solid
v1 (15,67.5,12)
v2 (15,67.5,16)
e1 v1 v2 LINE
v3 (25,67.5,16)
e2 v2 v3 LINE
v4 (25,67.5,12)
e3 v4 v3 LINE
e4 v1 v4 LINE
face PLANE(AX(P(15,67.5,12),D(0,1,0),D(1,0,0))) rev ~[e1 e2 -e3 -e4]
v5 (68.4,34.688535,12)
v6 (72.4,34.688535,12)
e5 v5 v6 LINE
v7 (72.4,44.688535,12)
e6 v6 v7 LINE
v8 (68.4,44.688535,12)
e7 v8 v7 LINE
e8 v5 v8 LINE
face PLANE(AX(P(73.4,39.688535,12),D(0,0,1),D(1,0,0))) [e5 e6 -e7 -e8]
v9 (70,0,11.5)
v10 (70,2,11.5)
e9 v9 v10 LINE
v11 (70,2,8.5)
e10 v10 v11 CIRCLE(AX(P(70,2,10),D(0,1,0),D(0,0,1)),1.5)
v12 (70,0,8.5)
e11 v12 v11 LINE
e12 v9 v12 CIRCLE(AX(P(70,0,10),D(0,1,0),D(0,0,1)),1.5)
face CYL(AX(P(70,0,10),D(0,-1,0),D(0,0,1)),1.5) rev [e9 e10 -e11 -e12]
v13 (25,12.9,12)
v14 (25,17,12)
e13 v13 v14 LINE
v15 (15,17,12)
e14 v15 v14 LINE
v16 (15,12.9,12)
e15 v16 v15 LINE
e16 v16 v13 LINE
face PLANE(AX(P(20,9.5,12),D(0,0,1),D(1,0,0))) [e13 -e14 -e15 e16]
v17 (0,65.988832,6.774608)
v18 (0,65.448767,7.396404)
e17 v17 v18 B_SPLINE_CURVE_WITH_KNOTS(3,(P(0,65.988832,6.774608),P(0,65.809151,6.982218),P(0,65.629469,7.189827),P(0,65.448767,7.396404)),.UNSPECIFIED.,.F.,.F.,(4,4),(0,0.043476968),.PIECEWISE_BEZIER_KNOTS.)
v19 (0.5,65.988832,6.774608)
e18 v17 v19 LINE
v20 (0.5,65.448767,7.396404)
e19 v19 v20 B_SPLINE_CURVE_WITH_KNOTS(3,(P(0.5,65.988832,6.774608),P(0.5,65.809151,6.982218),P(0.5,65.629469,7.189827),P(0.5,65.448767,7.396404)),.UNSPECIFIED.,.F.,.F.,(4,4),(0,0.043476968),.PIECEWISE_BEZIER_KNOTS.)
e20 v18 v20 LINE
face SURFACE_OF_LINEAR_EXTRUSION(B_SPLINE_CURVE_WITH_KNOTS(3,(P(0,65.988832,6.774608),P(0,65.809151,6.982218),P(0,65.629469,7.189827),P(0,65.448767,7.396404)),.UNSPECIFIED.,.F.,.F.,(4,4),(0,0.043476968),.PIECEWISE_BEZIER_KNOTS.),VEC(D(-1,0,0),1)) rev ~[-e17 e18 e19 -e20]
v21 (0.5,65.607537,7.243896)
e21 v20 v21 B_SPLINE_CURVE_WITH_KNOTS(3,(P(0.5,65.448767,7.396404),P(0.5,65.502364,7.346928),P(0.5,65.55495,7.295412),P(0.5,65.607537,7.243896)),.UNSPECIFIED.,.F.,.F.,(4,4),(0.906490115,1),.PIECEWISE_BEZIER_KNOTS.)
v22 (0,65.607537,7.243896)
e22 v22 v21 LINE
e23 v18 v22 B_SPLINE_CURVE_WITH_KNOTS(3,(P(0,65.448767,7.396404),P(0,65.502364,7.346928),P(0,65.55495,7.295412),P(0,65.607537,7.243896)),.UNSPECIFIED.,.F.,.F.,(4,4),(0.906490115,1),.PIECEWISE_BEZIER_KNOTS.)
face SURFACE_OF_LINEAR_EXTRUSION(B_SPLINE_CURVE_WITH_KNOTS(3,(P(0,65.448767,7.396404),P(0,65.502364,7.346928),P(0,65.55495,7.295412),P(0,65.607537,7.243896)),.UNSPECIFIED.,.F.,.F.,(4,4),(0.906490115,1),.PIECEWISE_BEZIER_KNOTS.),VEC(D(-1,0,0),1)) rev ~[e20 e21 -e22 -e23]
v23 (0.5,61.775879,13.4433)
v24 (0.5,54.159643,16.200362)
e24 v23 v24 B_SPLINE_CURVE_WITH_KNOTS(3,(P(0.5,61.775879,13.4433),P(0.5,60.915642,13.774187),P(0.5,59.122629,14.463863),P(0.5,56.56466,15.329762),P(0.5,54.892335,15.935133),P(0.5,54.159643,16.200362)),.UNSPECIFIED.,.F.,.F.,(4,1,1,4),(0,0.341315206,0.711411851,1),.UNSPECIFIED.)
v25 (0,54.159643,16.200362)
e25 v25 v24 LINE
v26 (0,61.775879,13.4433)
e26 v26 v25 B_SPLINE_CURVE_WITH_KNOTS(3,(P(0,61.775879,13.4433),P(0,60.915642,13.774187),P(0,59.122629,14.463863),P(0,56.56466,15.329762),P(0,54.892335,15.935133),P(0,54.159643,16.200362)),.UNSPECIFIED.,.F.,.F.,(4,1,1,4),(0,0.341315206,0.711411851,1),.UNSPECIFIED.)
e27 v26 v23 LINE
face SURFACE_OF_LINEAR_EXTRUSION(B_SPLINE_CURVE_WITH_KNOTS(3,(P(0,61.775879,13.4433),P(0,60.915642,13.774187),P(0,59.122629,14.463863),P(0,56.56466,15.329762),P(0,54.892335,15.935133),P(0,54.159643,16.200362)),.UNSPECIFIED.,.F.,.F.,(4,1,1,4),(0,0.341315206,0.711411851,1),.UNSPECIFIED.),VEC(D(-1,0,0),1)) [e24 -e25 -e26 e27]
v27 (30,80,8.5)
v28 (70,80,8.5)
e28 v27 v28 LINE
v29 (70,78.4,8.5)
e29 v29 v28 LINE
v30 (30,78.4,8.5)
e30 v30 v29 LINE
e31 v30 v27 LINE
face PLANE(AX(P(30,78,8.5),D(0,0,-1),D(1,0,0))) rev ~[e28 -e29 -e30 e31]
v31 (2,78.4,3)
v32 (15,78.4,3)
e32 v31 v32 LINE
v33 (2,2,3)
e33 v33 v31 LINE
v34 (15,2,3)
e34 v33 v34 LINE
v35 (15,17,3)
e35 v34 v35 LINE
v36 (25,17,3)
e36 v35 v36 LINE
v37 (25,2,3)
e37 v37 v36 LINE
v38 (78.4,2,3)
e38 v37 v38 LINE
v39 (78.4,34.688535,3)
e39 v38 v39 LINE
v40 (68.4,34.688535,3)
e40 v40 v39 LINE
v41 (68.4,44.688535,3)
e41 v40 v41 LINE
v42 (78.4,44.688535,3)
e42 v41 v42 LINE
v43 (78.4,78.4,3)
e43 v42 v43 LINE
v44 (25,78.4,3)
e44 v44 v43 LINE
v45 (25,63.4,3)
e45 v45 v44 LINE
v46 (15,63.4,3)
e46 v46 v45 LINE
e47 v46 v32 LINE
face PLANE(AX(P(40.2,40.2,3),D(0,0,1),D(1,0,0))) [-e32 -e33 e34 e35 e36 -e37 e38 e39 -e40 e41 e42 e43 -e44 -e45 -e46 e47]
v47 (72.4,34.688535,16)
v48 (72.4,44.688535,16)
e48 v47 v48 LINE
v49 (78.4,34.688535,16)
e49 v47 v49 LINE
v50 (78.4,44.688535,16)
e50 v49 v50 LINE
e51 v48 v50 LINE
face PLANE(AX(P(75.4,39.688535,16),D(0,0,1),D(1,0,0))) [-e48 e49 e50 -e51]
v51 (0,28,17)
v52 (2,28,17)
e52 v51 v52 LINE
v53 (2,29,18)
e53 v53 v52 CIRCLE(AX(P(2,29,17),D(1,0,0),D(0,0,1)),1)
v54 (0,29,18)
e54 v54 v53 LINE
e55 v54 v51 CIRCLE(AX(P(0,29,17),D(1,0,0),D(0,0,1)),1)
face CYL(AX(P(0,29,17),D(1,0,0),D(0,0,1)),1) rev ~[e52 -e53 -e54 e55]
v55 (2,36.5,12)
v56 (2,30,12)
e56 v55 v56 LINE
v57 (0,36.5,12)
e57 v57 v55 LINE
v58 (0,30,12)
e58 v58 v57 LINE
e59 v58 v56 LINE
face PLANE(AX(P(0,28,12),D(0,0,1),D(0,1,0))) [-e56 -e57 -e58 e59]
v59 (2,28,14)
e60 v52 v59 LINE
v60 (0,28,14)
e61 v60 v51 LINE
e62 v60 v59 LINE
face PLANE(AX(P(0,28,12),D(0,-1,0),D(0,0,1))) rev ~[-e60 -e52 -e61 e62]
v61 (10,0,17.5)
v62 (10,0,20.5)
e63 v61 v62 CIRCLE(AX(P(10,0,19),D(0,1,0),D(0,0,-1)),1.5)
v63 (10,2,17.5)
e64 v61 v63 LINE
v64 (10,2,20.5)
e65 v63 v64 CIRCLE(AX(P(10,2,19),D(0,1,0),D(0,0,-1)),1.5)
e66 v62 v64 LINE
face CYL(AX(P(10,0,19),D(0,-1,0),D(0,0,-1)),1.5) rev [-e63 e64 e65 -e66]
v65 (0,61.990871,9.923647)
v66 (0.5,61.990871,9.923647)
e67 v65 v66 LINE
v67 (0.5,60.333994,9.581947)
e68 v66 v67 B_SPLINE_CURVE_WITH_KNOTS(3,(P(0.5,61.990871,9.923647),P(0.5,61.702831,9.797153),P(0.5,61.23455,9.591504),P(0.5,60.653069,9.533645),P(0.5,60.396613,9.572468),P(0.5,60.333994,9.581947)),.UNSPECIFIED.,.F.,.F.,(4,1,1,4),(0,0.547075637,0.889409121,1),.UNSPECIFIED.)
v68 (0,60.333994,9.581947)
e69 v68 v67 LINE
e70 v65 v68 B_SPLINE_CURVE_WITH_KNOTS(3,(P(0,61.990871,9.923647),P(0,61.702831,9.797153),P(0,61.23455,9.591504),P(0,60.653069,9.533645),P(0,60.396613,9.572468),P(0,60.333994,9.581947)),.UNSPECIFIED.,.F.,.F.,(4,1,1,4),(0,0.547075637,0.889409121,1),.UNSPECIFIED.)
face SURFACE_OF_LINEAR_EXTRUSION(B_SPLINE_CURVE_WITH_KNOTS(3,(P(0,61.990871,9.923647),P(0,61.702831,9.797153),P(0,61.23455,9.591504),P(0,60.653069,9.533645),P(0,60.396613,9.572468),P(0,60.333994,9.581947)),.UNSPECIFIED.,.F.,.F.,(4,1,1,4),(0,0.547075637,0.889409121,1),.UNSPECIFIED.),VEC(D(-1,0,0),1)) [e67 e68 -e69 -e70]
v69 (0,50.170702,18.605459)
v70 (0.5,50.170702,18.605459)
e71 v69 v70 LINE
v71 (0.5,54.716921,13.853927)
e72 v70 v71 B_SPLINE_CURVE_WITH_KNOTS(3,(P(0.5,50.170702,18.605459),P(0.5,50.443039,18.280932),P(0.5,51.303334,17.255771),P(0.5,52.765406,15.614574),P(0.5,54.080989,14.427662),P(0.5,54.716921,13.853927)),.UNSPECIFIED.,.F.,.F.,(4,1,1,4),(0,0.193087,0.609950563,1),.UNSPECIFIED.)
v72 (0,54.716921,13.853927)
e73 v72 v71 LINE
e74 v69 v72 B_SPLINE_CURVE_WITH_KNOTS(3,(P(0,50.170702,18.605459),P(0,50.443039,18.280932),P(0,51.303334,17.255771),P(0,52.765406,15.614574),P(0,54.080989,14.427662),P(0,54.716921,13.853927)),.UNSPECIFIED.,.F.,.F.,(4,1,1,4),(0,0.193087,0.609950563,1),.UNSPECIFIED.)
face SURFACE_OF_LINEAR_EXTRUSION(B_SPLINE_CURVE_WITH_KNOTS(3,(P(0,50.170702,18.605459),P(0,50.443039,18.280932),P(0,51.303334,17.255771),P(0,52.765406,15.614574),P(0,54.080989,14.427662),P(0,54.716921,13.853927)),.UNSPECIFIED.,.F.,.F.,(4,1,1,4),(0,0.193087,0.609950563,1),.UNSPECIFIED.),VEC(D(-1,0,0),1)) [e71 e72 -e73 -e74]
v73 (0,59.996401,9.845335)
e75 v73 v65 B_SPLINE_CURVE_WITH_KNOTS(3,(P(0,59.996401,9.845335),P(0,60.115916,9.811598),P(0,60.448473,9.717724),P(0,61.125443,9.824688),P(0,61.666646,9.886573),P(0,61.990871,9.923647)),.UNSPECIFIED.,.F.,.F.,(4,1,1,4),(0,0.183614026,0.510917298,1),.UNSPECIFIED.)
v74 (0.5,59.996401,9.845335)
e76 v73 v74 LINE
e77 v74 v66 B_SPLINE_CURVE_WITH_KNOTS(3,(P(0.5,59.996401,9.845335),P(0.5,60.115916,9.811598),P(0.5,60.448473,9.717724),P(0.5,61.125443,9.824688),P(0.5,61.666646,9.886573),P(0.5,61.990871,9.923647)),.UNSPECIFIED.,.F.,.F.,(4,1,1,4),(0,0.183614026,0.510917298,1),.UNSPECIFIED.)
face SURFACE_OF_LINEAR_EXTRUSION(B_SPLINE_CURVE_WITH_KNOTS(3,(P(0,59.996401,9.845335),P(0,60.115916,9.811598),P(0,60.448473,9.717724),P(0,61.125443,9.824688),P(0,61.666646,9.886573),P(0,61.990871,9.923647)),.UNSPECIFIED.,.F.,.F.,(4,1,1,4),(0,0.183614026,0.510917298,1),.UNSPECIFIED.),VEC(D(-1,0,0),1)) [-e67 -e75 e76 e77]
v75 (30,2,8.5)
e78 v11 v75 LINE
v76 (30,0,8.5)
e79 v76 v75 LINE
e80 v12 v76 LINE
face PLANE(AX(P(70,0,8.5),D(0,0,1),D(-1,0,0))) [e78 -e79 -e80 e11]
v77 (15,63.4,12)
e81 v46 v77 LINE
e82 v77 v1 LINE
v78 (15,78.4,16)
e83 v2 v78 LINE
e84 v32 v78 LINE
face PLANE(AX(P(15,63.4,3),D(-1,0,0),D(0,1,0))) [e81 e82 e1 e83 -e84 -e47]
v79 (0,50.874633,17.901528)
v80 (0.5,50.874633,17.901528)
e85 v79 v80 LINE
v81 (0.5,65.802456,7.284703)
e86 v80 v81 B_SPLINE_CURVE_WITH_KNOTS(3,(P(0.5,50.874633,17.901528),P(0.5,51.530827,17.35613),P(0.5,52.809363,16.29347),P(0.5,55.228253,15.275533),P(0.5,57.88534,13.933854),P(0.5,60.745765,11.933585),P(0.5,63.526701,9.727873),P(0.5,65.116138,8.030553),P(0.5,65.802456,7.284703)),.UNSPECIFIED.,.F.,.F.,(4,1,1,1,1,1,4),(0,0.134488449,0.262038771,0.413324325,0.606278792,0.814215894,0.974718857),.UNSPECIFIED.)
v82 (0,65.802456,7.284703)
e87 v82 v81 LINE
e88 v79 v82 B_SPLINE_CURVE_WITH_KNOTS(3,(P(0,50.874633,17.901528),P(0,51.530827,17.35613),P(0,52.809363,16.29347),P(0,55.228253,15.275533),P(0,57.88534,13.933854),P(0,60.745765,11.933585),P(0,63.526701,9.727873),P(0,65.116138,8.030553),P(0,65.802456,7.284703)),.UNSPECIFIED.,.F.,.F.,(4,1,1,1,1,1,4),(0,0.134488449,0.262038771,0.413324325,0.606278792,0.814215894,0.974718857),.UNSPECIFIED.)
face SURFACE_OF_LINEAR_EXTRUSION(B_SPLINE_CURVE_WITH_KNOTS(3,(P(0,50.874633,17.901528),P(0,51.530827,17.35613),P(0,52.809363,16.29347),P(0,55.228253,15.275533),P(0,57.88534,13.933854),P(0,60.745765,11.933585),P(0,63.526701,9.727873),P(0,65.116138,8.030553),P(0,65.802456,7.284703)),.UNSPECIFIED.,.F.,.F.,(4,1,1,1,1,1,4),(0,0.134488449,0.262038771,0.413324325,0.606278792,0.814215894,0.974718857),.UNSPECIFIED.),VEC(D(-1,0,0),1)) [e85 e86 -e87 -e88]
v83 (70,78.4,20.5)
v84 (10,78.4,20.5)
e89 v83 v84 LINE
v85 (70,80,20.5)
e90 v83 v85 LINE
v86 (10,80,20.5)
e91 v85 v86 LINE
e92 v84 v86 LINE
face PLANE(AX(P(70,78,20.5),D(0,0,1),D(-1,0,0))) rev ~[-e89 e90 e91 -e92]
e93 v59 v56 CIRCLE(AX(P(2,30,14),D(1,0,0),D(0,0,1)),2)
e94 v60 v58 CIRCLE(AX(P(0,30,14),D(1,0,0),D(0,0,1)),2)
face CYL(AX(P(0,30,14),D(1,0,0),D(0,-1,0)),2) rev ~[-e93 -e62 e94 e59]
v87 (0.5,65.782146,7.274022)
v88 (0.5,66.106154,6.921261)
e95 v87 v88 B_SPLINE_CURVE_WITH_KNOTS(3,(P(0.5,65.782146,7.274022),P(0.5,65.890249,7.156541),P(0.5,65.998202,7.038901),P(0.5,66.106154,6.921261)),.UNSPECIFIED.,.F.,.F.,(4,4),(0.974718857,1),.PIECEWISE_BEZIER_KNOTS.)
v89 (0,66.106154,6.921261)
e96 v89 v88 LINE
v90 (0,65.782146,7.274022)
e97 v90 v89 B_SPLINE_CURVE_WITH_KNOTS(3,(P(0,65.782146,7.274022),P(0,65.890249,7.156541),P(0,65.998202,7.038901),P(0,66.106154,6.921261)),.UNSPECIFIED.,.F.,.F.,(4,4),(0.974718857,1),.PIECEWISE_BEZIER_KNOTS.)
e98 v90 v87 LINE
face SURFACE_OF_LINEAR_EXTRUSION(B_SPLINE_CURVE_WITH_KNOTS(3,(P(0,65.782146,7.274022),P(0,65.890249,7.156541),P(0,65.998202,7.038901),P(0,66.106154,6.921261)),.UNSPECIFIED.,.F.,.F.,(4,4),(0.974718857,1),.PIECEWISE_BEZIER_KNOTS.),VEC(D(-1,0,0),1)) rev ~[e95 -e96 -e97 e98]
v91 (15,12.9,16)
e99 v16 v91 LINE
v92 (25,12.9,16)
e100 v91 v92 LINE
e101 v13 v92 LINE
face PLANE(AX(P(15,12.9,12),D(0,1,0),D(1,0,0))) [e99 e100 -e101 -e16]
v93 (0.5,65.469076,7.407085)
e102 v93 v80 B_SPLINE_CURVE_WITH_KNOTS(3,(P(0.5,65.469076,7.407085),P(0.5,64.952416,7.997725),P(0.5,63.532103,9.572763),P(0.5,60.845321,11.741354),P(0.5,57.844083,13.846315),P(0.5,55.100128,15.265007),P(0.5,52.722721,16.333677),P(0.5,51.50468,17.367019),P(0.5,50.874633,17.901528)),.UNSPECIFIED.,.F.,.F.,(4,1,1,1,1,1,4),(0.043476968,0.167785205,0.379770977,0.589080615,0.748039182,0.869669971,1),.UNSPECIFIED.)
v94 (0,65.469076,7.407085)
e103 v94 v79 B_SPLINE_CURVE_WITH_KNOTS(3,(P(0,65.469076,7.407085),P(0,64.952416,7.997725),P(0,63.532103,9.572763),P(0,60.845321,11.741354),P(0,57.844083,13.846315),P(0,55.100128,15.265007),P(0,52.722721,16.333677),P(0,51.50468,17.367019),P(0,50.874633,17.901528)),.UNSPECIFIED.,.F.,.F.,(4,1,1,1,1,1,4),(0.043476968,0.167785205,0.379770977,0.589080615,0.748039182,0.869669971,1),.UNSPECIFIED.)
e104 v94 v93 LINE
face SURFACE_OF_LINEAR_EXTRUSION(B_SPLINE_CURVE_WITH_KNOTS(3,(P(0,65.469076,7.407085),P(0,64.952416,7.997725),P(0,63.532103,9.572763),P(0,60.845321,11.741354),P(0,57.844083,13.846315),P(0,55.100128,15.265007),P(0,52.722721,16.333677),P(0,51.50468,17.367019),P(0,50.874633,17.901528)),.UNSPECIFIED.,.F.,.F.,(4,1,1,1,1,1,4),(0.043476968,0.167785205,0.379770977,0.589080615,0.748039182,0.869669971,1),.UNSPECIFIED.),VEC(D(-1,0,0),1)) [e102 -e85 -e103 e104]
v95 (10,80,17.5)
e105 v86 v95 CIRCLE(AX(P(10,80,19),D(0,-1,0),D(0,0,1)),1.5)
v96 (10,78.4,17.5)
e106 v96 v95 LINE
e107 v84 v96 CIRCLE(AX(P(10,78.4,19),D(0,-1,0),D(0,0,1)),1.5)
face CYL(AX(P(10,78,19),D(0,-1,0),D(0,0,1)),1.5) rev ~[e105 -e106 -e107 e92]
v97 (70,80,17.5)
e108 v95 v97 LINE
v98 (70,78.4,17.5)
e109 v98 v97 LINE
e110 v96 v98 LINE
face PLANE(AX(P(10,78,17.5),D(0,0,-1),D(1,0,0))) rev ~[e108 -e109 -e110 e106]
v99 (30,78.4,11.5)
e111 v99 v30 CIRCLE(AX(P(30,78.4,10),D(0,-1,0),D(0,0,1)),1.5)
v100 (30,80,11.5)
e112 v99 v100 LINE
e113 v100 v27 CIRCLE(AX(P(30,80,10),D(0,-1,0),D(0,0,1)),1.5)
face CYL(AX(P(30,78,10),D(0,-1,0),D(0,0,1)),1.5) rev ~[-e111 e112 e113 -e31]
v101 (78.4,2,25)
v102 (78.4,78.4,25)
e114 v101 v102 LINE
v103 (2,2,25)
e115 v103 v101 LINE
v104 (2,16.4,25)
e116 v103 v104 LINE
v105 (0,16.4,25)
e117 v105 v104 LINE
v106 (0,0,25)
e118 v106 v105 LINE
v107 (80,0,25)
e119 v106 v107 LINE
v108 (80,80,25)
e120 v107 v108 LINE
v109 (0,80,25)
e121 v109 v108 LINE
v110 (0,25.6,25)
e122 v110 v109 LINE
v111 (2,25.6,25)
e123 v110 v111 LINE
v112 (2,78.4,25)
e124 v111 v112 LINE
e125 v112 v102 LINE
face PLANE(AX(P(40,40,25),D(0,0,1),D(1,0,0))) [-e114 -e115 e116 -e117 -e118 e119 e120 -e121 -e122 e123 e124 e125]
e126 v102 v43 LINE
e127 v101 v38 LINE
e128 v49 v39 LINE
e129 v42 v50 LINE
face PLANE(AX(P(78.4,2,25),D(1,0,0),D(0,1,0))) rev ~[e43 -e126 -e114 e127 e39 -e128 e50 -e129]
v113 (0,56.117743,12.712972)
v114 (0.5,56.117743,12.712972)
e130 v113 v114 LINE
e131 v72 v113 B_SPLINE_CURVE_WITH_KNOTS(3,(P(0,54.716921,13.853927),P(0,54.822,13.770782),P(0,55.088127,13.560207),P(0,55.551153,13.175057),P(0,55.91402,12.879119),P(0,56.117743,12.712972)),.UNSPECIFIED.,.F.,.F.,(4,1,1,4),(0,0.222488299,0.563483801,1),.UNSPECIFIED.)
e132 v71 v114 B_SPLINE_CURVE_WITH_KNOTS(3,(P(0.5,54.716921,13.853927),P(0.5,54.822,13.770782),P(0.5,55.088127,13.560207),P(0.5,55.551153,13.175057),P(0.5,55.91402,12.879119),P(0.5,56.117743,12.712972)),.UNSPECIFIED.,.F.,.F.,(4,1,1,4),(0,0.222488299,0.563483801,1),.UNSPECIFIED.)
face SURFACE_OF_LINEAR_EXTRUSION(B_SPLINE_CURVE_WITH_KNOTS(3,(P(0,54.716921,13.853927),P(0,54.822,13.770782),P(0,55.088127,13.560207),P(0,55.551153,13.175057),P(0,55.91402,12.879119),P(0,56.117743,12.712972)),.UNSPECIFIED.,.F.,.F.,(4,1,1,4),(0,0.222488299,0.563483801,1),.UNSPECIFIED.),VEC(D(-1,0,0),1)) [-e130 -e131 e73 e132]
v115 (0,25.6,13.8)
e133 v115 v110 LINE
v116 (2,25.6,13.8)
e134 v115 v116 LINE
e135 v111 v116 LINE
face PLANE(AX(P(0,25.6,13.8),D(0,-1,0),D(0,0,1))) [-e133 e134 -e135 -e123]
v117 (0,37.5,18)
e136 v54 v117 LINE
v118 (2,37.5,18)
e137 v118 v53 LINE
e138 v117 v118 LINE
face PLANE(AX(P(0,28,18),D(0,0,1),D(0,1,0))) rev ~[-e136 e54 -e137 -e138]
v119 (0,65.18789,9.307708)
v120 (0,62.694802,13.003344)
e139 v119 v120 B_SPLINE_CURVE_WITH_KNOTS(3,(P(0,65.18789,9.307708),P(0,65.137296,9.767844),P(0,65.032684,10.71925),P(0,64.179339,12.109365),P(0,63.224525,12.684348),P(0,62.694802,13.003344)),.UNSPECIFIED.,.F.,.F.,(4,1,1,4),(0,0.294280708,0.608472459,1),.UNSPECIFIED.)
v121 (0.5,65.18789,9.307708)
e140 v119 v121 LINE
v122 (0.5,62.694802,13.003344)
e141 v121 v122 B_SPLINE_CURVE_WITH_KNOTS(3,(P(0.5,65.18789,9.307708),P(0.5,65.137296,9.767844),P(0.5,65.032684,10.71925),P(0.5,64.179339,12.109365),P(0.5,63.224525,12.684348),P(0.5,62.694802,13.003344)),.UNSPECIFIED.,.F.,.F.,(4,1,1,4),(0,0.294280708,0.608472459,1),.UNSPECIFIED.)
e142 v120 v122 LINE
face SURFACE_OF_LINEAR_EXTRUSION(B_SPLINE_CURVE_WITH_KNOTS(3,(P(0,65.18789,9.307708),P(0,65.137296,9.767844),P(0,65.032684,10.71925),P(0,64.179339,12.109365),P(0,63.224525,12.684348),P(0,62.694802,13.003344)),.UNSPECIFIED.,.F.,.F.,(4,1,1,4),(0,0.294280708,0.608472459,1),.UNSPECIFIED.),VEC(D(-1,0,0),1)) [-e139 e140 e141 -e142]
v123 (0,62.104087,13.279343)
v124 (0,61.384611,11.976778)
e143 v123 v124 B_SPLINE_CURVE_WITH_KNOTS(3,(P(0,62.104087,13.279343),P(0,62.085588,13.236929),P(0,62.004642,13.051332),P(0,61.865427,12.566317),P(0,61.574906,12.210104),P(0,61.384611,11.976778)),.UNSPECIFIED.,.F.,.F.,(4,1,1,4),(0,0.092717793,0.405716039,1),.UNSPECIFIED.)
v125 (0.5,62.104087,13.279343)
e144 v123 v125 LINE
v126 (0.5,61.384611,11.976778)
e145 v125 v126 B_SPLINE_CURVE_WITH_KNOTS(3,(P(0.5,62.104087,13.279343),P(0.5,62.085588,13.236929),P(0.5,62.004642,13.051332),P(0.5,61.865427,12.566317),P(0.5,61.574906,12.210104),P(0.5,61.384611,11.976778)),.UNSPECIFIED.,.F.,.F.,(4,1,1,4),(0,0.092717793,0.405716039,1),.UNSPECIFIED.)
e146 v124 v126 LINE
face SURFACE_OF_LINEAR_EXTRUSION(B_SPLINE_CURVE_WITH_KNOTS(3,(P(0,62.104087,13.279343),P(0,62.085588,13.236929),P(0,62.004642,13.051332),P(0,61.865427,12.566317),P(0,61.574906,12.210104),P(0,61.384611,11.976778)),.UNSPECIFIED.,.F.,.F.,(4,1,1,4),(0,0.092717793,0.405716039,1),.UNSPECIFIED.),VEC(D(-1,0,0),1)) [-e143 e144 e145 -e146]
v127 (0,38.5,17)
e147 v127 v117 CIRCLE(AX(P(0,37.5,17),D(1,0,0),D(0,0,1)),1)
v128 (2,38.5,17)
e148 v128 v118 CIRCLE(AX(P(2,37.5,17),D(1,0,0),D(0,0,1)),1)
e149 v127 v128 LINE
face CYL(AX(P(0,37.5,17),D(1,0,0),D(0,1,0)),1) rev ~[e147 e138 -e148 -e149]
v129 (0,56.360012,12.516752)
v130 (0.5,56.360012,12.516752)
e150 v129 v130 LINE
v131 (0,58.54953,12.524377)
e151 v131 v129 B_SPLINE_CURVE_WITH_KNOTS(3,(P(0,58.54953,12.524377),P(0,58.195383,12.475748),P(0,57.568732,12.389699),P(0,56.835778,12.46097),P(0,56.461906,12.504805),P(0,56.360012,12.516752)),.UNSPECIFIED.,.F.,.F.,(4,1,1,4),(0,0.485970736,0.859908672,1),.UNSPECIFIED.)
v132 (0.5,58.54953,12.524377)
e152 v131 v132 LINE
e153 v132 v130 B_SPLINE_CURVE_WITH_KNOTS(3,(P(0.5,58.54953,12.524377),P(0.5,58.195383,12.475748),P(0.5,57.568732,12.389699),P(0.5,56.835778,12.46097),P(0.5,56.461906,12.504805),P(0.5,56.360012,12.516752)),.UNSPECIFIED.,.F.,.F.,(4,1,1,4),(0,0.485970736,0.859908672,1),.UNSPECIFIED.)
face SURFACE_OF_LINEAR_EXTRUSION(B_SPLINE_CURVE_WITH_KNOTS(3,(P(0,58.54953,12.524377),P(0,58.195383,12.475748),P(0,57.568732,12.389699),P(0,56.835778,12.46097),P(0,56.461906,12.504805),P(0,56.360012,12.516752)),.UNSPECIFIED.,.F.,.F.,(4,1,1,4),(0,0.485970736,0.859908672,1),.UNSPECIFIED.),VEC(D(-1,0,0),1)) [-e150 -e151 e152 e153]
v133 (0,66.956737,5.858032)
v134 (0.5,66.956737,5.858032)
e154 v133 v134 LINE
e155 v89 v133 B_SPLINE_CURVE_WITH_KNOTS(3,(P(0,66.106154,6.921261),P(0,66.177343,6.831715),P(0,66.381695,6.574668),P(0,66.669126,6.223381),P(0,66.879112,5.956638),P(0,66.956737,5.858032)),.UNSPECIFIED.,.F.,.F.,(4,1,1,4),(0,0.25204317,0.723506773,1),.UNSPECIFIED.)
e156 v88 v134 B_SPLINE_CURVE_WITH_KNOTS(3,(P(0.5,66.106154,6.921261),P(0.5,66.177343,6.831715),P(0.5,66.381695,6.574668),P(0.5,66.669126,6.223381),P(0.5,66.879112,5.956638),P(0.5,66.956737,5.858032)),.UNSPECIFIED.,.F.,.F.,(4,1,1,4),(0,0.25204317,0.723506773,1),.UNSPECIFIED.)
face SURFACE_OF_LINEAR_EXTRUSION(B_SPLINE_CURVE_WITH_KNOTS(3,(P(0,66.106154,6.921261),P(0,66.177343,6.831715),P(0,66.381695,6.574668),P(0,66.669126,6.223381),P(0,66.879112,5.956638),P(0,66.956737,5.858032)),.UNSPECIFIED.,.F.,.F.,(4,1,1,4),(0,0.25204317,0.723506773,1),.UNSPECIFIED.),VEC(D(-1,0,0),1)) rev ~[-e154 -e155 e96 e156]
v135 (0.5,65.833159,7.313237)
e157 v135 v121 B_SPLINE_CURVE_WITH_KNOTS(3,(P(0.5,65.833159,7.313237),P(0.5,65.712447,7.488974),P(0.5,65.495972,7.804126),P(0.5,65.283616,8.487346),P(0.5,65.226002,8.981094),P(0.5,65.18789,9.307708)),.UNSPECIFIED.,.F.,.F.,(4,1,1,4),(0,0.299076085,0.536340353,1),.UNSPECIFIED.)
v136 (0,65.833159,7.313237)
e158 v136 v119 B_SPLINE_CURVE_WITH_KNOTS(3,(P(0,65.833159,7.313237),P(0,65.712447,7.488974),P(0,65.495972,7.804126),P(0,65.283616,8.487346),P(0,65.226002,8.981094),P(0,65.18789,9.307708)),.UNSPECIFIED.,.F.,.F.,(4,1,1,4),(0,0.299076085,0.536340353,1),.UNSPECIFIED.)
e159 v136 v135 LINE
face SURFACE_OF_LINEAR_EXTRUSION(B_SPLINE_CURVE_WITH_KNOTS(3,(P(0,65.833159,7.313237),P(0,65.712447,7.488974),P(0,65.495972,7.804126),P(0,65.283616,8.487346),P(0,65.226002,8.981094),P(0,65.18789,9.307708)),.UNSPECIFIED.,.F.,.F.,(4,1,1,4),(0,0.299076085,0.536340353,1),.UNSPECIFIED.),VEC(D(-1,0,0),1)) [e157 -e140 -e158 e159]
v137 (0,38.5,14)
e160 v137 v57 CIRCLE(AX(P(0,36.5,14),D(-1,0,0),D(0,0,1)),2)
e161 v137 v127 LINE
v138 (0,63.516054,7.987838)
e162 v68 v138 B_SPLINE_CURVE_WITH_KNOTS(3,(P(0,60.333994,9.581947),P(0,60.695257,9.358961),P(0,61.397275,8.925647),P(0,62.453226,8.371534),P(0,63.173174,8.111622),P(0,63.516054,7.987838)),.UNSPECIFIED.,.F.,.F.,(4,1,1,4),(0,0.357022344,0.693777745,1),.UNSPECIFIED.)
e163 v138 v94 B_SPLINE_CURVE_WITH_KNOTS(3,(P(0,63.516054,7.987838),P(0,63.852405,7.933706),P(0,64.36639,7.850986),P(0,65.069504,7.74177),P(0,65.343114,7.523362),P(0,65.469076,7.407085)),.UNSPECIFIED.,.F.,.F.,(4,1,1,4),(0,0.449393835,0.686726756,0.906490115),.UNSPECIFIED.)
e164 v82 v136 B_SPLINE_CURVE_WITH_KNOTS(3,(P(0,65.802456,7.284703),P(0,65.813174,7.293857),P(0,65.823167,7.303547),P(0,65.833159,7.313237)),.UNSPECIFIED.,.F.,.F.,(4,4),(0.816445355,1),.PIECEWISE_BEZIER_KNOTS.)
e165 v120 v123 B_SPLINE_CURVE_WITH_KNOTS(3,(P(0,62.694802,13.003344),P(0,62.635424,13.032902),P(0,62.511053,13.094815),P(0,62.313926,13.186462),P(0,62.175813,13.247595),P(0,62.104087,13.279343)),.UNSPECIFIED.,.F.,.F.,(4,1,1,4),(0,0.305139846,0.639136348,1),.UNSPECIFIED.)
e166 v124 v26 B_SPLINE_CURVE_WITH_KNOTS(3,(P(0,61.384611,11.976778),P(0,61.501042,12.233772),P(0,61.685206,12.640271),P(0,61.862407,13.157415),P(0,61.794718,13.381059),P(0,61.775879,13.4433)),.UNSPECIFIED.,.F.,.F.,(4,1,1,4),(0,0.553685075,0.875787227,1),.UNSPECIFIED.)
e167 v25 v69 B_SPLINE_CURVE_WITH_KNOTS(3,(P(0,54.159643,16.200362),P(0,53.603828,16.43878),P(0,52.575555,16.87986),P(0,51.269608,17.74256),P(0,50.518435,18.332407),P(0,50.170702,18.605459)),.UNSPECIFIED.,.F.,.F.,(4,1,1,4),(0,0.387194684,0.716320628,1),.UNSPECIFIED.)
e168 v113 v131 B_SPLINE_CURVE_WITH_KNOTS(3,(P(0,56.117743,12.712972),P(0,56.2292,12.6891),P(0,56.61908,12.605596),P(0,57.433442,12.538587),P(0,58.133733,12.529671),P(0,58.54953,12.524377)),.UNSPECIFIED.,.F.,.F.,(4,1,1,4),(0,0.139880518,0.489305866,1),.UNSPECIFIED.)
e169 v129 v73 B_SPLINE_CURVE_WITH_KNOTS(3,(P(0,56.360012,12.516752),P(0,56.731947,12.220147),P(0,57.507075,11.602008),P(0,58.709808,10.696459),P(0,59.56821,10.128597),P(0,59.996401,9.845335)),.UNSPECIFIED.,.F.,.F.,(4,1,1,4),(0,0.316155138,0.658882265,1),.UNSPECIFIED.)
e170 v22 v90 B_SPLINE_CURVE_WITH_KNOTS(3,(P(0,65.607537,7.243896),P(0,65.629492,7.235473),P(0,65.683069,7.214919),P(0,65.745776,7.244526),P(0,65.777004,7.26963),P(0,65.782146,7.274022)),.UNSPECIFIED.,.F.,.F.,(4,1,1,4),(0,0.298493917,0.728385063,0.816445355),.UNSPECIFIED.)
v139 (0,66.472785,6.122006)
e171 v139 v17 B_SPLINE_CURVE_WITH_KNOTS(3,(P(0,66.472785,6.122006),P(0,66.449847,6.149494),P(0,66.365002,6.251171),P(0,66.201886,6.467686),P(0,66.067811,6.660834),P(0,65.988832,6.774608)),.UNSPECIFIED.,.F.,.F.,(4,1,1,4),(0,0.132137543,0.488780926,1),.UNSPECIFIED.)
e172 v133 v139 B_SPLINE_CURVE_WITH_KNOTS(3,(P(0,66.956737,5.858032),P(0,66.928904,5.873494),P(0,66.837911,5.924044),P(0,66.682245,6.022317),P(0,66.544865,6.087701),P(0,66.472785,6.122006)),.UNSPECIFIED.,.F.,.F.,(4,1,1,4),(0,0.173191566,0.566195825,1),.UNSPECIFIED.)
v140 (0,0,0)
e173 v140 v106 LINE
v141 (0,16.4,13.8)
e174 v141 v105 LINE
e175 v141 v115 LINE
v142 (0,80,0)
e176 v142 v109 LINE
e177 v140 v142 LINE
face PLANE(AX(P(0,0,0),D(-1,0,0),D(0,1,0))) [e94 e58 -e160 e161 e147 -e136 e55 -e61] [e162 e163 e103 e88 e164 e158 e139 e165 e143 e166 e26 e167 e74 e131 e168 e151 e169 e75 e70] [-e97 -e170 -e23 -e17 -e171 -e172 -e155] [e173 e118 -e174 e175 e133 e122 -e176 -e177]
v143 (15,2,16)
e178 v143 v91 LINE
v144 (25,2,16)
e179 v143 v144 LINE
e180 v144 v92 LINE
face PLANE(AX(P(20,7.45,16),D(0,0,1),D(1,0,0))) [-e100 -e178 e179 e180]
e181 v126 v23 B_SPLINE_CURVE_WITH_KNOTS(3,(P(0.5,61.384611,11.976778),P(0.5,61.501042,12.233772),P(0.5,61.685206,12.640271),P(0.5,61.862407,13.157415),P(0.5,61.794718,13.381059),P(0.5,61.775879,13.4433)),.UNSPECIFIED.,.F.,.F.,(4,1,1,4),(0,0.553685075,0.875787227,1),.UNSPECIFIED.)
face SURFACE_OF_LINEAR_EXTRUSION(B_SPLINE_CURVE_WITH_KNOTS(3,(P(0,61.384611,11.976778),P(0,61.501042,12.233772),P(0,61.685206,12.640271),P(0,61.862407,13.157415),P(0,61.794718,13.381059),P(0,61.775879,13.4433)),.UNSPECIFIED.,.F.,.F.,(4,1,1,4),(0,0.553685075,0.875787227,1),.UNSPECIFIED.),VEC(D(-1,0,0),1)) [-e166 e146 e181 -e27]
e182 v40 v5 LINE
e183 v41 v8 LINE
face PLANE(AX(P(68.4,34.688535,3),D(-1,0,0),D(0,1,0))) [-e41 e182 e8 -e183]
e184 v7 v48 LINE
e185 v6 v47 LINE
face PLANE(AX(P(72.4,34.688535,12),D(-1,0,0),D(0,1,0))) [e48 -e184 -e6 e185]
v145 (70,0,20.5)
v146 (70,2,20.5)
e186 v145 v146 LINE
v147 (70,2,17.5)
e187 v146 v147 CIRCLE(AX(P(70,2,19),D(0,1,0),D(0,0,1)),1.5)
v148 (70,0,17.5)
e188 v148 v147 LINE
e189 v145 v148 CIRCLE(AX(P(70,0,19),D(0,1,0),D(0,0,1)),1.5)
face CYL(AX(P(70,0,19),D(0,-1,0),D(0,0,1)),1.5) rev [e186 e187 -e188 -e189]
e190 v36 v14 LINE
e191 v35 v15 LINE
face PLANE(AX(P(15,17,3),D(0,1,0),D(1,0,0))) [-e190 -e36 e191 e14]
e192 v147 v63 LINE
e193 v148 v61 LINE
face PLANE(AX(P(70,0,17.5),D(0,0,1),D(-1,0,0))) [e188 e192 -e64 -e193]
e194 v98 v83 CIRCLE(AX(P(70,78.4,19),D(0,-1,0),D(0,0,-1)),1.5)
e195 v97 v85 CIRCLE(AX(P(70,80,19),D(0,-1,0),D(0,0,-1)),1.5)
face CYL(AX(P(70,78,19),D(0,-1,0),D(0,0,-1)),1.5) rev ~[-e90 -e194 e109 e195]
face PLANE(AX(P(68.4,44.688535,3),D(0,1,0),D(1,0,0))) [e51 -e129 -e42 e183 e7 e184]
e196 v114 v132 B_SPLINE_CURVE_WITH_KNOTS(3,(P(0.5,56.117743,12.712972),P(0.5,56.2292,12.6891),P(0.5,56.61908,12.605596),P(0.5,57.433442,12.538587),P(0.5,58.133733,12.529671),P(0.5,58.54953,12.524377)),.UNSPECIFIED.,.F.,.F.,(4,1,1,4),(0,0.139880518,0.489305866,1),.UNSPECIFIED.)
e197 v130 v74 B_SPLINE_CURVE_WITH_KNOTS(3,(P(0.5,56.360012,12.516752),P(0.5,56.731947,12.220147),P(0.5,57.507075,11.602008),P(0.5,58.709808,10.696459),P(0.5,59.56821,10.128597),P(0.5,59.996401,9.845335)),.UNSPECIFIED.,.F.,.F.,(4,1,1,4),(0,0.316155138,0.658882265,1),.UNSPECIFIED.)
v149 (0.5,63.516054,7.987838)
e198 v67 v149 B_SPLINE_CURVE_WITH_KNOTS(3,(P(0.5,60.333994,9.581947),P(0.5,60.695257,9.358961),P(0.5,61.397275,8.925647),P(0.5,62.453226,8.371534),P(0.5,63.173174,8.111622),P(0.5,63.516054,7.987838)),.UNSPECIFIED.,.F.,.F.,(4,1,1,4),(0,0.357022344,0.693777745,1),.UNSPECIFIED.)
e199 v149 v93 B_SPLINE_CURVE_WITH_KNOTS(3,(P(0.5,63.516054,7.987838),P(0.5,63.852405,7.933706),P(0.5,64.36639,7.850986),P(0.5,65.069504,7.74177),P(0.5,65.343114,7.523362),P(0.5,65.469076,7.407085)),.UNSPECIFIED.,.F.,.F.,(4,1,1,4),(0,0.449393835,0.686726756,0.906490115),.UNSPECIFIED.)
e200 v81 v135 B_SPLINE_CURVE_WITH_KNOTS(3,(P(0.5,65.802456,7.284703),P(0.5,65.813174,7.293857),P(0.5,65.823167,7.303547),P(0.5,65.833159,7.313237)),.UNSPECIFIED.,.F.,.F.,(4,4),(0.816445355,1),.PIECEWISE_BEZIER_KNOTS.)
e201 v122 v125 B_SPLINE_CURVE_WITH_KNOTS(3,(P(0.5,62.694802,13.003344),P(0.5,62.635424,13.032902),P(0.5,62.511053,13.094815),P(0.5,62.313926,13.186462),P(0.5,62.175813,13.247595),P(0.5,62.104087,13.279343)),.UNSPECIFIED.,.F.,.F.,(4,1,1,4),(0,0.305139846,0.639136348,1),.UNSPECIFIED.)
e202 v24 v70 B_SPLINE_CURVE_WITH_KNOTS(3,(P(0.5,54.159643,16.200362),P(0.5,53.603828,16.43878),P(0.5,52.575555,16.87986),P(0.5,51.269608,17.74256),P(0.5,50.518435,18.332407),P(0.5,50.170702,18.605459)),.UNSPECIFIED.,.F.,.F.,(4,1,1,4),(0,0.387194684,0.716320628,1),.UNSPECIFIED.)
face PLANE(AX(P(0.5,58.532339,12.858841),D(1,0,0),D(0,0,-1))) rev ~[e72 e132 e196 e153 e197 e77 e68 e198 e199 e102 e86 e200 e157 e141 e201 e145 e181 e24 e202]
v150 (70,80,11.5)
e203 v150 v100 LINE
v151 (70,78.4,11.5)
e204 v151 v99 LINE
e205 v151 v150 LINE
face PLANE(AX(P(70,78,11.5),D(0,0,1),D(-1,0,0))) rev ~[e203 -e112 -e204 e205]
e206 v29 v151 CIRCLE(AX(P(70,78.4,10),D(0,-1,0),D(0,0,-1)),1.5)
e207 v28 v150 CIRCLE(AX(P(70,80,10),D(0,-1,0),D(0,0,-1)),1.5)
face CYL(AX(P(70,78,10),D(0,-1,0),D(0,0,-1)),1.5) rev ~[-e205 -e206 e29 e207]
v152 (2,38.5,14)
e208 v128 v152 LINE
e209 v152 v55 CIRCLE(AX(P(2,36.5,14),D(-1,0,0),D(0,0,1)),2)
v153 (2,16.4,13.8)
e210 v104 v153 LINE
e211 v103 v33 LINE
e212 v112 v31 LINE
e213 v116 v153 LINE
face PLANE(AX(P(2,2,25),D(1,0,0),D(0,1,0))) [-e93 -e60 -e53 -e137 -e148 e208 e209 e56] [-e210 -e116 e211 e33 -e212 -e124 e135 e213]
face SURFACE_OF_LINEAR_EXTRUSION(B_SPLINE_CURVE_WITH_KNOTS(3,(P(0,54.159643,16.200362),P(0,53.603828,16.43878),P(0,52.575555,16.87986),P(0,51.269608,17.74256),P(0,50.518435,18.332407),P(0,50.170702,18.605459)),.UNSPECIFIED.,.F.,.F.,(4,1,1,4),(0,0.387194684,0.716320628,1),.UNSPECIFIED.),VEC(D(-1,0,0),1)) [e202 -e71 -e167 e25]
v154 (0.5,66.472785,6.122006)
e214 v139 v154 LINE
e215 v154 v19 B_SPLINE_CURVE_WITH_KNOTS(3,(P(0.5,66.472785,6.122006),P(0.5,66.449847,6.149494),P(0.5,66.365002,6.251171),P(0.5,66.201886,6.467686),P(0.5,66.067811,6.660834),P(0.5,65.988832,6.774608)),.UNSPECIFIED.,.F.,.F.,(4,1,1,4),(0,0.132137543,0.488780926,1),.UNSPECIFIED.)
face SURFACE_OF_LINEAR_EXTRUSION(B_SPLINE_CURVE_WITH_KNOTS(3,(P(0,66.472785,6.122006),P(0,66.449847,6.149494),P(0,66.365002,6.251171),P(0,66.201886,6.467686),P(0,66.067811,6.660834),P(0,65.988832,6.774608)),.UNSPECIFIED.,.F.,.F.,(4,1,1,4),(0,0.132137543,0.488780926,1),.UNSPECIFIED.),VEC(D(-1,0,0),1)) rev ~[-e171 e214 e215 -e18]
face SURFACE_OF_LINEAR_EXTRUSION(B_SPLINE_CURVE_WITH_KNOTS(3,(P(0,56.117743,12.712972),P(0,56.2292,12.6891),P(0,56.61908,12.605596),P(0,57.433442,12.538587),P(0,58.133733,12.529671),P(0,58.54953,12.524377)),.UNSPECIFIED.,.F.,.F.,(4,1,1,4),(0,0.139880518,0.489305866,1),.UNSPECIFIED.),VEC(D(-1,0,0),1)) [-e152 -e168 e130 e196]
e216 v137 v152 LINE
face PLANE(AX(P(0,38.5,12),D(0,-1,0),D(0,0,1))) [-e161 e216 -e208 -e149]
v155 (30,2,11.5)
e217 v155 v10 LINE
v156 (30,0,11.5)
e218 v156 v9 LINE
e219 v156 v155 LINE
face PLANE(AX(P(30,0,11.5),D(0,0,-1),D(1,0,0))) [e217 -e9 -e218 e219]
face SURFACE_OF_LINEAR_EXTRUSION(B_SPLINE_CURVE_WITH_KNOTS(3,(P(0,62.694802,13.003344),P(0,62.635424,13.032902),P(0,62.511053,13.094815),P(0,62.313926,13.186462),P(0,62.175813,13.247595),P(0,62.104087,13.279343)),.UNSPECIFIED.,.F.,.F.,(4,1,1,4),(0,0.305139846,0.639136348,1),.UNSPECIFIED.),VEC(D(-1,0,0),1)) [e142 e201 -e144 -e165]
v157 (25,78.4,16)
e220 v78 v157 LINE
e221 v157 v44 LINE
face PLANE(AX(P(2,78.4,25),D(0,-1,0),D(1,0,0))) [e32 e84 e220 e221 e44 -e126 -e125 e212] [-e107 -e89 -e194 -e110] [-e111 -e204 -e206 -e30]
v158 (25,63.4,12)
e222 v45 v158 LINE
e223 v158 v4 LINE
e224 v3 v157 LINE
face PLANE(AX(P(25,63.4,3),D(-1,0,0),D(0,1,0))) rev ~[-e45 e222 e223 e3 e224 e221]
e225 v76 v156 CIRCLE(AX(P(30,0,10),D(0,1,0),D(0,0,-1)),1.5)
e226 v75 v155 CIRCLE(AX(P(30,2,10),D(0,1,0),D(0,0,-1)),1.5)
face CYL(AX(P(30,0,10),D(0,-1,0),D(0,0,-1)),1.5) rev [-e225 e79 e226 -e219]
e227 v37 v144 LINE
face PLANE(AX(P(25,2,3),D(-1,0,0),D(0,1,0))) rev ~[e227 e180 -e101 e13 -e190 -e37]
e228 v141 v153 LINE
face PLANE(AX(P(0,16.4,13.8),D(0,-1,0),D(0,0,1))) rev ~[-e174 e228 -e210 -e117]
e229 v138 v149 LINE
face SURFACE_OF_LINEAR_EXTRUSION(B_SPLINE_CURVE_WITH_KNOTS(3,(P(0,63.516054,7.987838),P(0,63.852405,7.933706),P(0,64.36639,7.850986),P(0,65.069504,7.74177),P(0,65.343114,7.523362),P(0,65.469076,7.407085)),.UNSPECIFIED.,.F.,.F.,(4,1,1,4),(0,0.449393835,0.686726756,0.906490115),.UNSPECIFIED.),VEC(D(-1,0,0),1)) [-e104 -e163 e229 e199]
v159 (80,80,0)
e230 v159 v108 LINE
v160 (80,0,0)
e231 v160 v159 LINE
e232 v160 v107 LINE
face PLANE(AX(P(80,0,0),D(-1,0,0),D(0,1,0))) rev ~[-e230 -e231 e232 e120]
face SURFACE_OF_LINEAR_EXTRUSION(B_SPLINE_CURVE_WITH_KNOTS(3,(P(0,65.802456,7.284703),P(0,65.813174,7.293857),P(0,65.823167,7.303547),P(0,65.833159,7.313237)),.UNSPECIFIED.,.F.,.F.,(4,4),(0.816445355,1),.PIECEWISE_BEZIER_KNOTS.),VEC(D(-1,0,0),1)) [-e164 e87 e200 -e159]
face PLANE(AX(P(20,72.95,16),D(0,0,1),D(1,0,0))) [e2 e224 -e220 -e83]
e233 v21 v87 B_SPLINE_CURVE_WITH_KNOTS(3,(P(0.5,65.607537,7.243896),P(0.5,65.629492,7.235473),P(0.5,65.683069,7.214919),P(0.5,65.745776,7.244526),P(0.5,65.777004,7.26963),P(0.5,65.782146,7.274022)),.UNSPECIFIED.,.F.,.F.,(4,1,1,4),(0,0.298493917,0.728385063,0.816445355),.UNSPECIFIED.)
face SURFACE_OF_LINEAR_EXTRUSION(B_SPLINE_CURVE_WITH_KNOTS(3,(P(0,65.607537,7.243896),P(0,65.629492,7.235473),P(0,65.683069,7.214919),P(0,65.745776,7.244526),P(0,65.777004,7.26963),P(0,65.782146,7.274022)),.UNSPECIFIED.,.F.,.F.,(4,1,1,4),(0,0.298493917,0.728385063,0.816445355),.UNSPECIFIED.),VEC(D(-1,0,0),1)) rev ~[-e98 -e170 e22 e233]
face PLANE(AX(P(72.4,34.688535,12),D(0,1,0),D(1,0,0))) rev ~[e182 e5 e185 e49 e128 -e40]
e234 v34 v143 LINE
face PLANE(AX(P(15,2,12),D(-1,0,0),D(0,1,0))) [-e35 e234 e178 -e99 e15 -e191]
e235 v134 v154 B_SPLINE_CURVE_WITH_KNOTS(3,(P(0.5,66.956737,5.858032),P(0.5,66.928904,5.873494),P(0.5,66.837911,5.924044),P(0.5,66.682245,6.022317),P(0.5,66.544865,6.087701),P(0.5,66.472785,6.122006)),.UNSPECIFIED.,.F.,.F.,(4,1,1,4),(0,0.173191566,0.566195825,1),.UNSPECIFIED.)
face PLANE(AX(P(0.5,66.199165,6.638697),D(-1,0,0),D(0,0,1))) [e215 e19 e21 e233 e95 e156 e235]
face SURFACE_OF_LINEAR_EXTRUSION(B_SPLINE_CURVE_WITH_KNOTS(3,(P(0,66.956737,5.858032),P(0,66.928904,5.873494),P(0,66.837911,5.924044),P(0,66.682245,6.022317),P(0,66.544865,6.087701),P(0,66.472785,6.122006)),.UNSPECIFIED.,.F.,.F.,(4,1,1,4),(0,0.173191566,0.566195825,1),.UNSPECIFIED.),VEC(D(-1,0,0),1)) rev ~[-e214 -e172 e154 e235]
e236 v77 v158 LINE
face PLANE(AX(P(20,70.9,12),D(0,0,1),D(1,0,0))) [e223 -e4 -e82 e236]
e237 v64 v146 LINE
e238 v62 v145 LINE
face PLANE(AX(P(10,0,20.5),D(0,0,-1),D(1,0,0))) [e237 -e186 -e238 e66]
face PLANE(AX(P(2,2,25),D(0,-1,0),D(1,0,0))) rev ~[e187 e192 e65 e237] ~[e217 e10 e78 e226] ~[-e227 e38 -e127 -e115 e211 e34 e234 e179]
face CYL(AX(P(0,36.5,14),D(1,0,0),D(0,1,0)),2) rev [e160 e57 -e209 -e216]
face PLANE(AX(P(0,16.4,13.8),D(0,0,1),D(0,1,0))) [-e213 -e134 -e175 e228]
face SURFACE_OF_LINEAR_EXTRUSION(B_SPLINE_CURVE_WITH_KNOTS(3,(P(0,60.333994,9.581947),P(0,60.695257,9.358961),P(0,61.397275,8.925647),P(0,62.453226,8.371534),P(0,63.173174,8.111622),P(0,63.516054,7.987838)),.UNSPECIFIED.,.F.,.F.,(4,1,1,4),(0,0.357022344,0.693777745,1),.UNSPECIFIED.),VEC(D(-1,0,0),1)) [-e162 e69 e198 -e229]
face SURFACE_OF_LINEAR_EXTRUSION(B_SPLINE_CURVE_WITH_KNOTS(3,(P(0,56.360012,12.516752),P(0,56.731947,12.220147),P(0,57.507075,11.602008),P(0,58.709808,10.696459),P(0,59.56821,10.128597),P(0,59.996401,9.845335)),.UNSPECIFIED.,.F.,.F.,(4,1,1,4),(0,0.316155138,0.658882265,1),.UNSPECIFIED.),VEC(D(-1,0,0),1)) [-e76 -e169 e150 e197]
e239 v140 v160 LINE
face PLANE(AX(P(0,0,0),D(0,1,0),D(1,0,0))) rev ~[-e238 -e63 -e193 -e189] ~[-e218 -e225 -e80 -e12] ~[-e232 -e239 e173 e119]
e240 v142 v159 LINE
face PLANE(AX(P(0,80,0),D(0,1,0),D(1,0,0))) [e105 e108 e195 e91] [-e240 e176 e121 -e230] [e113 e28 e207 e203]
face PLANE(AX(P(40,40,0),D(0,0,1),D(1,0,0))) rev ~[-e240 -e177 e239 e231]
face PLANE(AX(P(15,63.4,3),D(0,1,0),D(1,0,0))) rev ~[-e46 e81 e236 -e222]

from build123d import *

# Parameters (mm, degrees)
ESQUISSE1_W             = 80
ESQUISSE1_H             = 80
BOSS_EXTRU_1_DEPTH      = 25
ESQUISSE2_W             = 76.4
ESQUISSE2_H             = 76.4
ENL_V_MAT_EXTRU_3_DEPTH = 22
ESQUISSE3_W             = 10
ESQUISSE3_H             = 15
ESQUISSE3_H_2           = 10
BOSS_EXTRU_2_DEPTH      = 9
ESQUISSE4_W             = 10
ESQUISSE4_H             = 10.9
ESQUISSE4_W_2           = 6
ESQUISSE4_H_2           = 10
BOSS_EXTRU_3_DEPTH      = 4
ESQUISSE5_W             = 11.2
ESQUISSE5_H             = 9.2
ESQUISSE5_W_2           = 6
ESQUISSE5_H_2           = 10.5
ENL_V_MAT_EXTRU_4_DEPTH = 10
CONG_2_R                = 2
CONG_3_R                = 1
ENL_V_MAT_EXTRU_5_DEPTH = 0.5
ENL_V_MAT_EXTRU_6_DEPTH = 0.5
ENL_V_MAT_EXTRU_7_DEPTH = 2
ENL_V_START             = -2
ENL_V_MAT_EXTRU_8_DEPTH = 2


with BuildPart() as part:
    # Esquisse1 → Boss.-Extru.1 (new body)
    with BuildSketch(Plane.XY):
        with Locations((40, 40)):
            Rectangle(ESQUISSE1_W, ESQUISSE1_H)
    extrude(amount=BOSS_EXTRU_1_DEPTH)

    # Esquisse2 → Enlèv. mat.-Extru.3 (cut)
    with BuildSketch(Plane.XY.offset(25)):
        with Locations((40.2, 40.2)):
            Rectangle(ESQUISSE2_W, ESQUISSE2_H)
    extrude(amount=-ENL_V_MAT_EXTRU_3_DEPTH, mode=Mode.SUBTRACT)

    # Esquisse3 → Boss.-Extru.2 (add)
    with BuildSketch(Plane.XY.offset(3)):
        with Locations((20, 9.5)):
            Rectangle(ESQUISSE3_W, ESQUISSE3_H)
        with Locations((73.4, 39.688534772)):
            Rectangle(ESQUISSE3_W, ESQUISSE3_H_2)
        with Locations((20, 70.9)):
            Rectangle(ESQUISSE3_W, ESQUISSE3_H)
    extrude(amount=BOSS_EXTRU_2_DEPTH)

    # Esquisse4 → Boss.-Extru.3 (add)
    with BuildSketch(Plane.XY.offset(12)):
        with Locations((20, 7.45)):
            Rectangle(ESQUISSE4_W, ESQUISSE4_H)
        with Locations((20, 72.95)):
            Rectangle(ESQUISSE4_W, ESQUISSE4_H)
        with Locations((75.4, 39.688534772)):
            Rectangle(ESQUISSE4_W_2, ESQUISSE4_H_2)
    extrude(amount=BOSS_EXTRU_3_DEPTH)

    # Esquisse5 → Enlèv. mat.-Extru.4 (cut)
    with BuildSketch(Plane.ZY):
        with Locations((19.4, 21)):
            Rectangle(ESQUISSE5_W, ESQUISSE5_H)
        with Locations((15, 33.25)):
            Rectangle(ESQUISSE5_W_2, ESQUISSE5_H_2)
    extrude(amount=-ENL_V_MAT_EXTRU_4_DEPTH, mode=Mode.SUBTRACT)

    # Congé2
    cong_2_edges = [part.edges().sort_by_distance(p)[0] for p in [
        (1, 28, 12),
        (1, 38.5, 12),
    ]]
    fillet(cong_2_edges, radius=CONG_2_R)

    # Congé3
    cong_3_edges = [part.edges().sort_by_distance(p)[0] for p in [
        (1, 38.5, 18),
        (1, 28, 18),
    ]]
    fillet(cong_3_edges, radius=CONG_3_R)

    # Esquisse8 → Enlèv. mat.-Extru.5 (cut)
    with BuildSketch(Plane.ZY):
        with BuildLine():
            add(Edge.make_bspline(
                [(7.313237468, 65.833159363), (7.48897389, 65.712447359), (7.804126252, 65.49597161), (8.487346274, 65.283616184), (8.981094379, 65.226001547), (9.307707678, 65.18788959)],
                knots=[0, 0, 0, 0, 0.299076085, 0.536340353, 1, 1, 1, 1], degree=3))
            add(Edge.make_bspline(
                [(7.284702647, 65.80245585), (7.293856567, 65.81317431), (7.303547017, 65.823166837), (7.313237468, 65.833159363)],
                knots=[0.816445355, 0.816445355, 0.816445355, 0.816445355, 1, 1, 1, 1], degree=3))
            add(Edge.make_bspline(
                [(17.901527847, 50.874632789), (17.356129628, 51.530826995), (16.293469748, 52.809362994), (15.275532925, 55.228252674), (13.933854466, 57.885340246), (11.93358483, 60.745765414), (9.727873266, 63.52670077), (8.030552607, 65.116137898), (7.284702647, 65.80245585)],
                knots=[0, 0, 0, 0, 0.134488449, 0.262038771, 0.413324325, 0.606278792, 0.814215894, 0.974718857, 0.974718857, 0.974718857, 0.974718857], degree=3))
            add(Edge.make_bspline(
                [(7.407085151, 65.469076199), (7.997724667, 64.952415937), (9.572762834, 63.532102924), (11.741354127, 60.845320938), (13.846315376, 57.844082794), (15.265007359, 55.100127721), (16.333677342, 52.722721211), (17.367018575, 51.504680356), (17.901527847, 50.874632789)],
                knots=[0.043476968, 0.043476968, 0.043476968, 0.043476968, 0.167785205, 0.379770977, 0.589080615, 0.748039182, 0.869669971, 1, 1, 1, 1], degree=3))
            add(Edge.make_bspline(
                [(7.987837686, 63.516054267), (7.933705658, 63.852405499), (7.85098554, 64.366389832), (7.741769984, 65.069503506), (7.523361561, 65.343113704), (7.407085151, 65.469076199)],
                knots=[0, 0, 0, 0, 0.449393835, 0.686726756, 0.906490115, 0.906490115, 0.906490115, 0.906490115], degree=3))
            add(Edge.make_bspline(
                [(9.581947331, 60.333994368), (9.35896114, 60.695257019), (8.925646923, 61.397274669), (8.371533969, 62.453225866), (8.111622296, 63.17317422), (7.987837686, 63.516054267)],
                knots=[0, 0, 0, 0, 0.357022344, 0.693777745, 1, 1, 1, 1], degree=3))
            add(Edge.make_bspline(
                [(9.923647007, 61.990871165), (9.797152593, 61.702831345), (9.59150409, 61.234550131), (9.533644523, 60.653068807), (9.572467818, 60.3966133), (9.581947331, 60.333994368)],
                knots=[0, 0, 0, 0, 0.547075637, 0.889409121, 1, 1, 1, 1], degree=3))
            add(Edge.make_bspline(
                [(9.845334721, 59.996400955), (9.811598018, 60.115915835), (9.717723572, 60.448473327), (9.824688072, 61.125443291), (9.886572886, 61.666645995), (9.923647007, 61.990871165)],
                knots=[0, 0, 0, 0, 0.183614026, 0.510917298, 1, 1, 1, 1], degree=3))
            add(Edge.make_bspline(
                [(12.516751585, 56.360012475), (12.220146813, 56.731946706), (11.602008437, 57.507075242), (10.696458869, 58.709807691), (10.128597293, 59.568209935), (9.845334721, 59.996400955)],
                knots=[0, 0, 0, 0, 0.316155138, 0.658882265, 1, 1, 1, 1], degree=3))
            add(Edge.make_bspline(
                [(12.5243775, 58.549530139), (12.475747631, 58.195383202), (12.389698733, 57.568732254), (12.460969789, 56.835777723), (12.504804941, 56.461905897), (12.516751585, 56.360012475)],
                knots=[0, 0, 0, 0, 0.485970736, 0.859908672, 1, 1, 1, 1], degree=3))
            add(Edge.make_bspline(
                [(12.712972257, 56.117743005), (12.689100366, 56.22919998), (12.605595842, 56.619079516), (12.538586692, 57.433441747), (12.529671109, 58.133733427), (12.5243775, 58.549530139)],
                knots=[0, 0, 0, 0, 0.139880518, 0.489305866, 1, 1, 1, 1], degree=3))
            add(Edge.make_bspline(
                [(13.853926539, 54.716920987), (13.770782279, 54.821999659), (13.560207416, 55.088126596), (13.175056735, 55.551153097), (12.879119476, 55.914019785), (12.712972257, 56.117743005)],
                knots=[0, 0, 0, 0, 0.222488299, 0.563483801, 1, 1, 1, 1], degree=3))
            add(Edge.make_bspline(
                [(18.605458509, 50.170702126), (18.280931893, 50.44303874), (17.255771256, 51.303334203), (15.614574097, 52.765406202), (14.427661827, 54.080988547), (13.853926539, 54.716920987)],
                knots=[0, 0, 0, 0, 0.193087, 0.609950563, 1, 1, 1, 1], degree=3))
            add(Edge.make_bspline(
                [(16.20036208, 54.159642546), (16.438779976, 53.603827531), (16.879859527, 52.575554733), (17.742560122, 51.269607993), (18.332407028, 50.518434698), (18.605458509, 50.170702126)],
                knots=[0, 0, 0, 0, 0.387194684, 0.716320628, 1, 1, 1, 1], degree=3))
            add(Edge.make_bspline(
                [(13.443300319, 61.775879008), (13.77418719, 60.915642263), (14.463863001, 59.122629222), (15.329762312, 56.564659638), (15.935132531, 54.892334677), (16.20036208, 54.159642546)],
                knots=[0, 0, 0, 0, 0.341315206, 0.711411851, 1, 1, 1, 1], degree=3))
            add(Edge.make_bspline(
                [(11.976778106, 61.384610882), (12.233772331, 61.501042009), (12.640271025, 61.685206075), (13.157414565, 61.862407498), (13.381058534, 61.794717609), (13.443300319, 61.775879008)],
                knots=[0, 0, 0, 0, 0.553685075, 0.875787227, 1, 1, 1, 1], degree=3))
            add(Edge.make_bspline(
                [(13.279343135, 62.10408668), (13.23692898, 62.085588167), (13.051332425, 62.004642073), (12.566317448, 61.865427123), (12.210103671, 61.574906445), (11.976778106, 61.384610882)],
                knots=[0, 0, 0, 0, 0.092717793, 0.405716039, 1, 1, 1, 1], degree=3))
            add(Edge.make_bspline(
                [(13.003343655, 62.694801827), (13.032902353, 62.635423942), (13.094815074, 62.511052886), (13.186462069, 62.313925775), (13.247594869, 62.175813112), (13.279343135, 62.10408668)],
                knots=[0, 0, 0, 0, 0.305139846, 0.639136348, 1, 1, 1, 1], degree=3))
            add(Edge.make_bspline(
                [(9.307707678, 65.18788959), (9.767844099, 65.137295561), (10.719249787, 65.03268431), (12.109364501, 64.17933924), (12.684347555, 63.224525191), (13.003343655, 62.694801827)],
                knots=[0, 0, 0, 0, 0.294280708, 0.608472459, 1, 1, 1, 1], degree=3))
        make_face()
    extrude(amount=-ENL_V_MAT_EXTRU_5_DEPTH, mode=Mode.SUBTRACT)

    # Esquisse11 → Enlèv. mat.-Extru.6 (cut)
    with BuildSketch(Plane.ZY):
        with BuildLine():
            add(Edge.make_bspline(
                [(7.243895568, 65.607536557), (7.235472734, 65.629492421), (7.214919328, 65.683069137), (7.244525992, 65.745776075), (7.269630044, 65.777003976), (7.274021635, 65.782146154)],
                knots=[0, 0, 0, 0, 0.298493917, 0.728385063, 0.816445355, 0.816445355, 0.816445355, 0.816445355], degree=3))
            add(Edge.make_bspline(
                [(7.274021635, 65.782146154), (7.156541314, 65.890249469), (7.038900997, 65.998201789), (6.921260681, 66.10615411)],
                knots=[0.974718857, 0.974718857, 0.974718857, 0.974718857, 1, 1, 1, 1], degree=3))
            add(Edge.make_bspline(
                [(6.921260681, 66.10615411), (6.831714942, 66.177342754), (6.574667912, 66.381694519), (6.223380928, 66.669125539), (5.956637647, 66.879112302), (5.858032076, 66.956736993)],
                knots=[0, 0, 0, 0, 0.25204317, 0.723506773, 1, 1, 1, 1], degree=3))
            add(Edge.make_bspline(
                [(5.858032076, 66.956736993), (5.873494425, 66.928903501), (5.924043753, 66.837910578), (6.022316687, 66.682245025), (6.087700791, 66.544864522), (6.122006074, 66.472784663)],
                knots=[0, 0, 0, 0, 0.173191566, 0.566195825, 1, 1, 1, 1], degree=3))
            add(Edge.make_bspline(
                [(6.122006074, 66.472784663), (6.149493678, 66.44984741), (6.251171186, 66.365001792), (6.467685513, 66.201886466), (6.660833558, 66.067810503), (6.774608459, 65.988832333)],
                knots=[0, 0, 0, 0, 0.132137543, 0.488780926, 1, 1, 1, 1], degree=3))
            add(Edge.make_bspline(
                [(6.774608459, 65.988832333), (6.982217829, 65.809150718), (7.189827198, 65.629469103), (7.396404139, 65.448766503)],
                knots=[0, 0, 0, 0, 0.043476968, 0.043476968, 0.043476968, 0.043476968], degree=3))
            add(Edge.make_bspline(
                [(7.396404139, 65.448766503), (7.346928222, 65.502363874), (7.295411895, 65.554950216), (7.243895568, 65.607536557)],
                knots=[0.906490115, 0.906490115, 0.906490115, 0.906490115, 1, 1, 1, 1], degree=3))
        make_face()
    extrude(amount=-ENL_V_MAT_EXTRU_6_DEPTH, mode=Mode.SUBTRACT)

    # Esquisse12 → Enlèv. mat.-Extru.7 (cut)
    with BuildSketch(Plane(origin=(0, 0, 0), x_dir=(-1, 0, 0), z_dir=(0, -1, 0))):
        with BuildLine():
            Line((-10, -20.5), (-70, -20.5))
            ThreePointArc((-70, -20.5), (-71.5, -19), (-70, -17.5))
            Line((-70, -17.5), (-10, -17.5))
            ThreePointArc((-10, -17.5), (-8.5, -19), (-10, -20.5))
        make_face()
        with BuildLine():
            Line((-70, -8.5), (-30, -8.5))
            ThreePointArc((-30, -8.5), (-28.5, -10), (-30, -11.5))
            Line((-30, -11.5), (-70, -11.5))
            ThreePointArc((-70, -11.5), (-71.5, -10), (-70, -8.5))
        make_face()
    extrude(amount=-ENL_V_MAT_EXTRU_7_DEPTH, mode=Mode.SUBTRACT)

    # Esquisse14 → Enlèv. mat.-Extru.8 (cut)
    with BuildSketch(Plane(origin=(0, 80, 0), x_dir=(1, 0, 0), z_dir=(0, 1, 0)).offset(ENL_V_START)):
        with BuildLine():
            Line((70, -20.5), (10, -20.5))
            ThreePointArc((10, -20.5), (8.5, -19), (10, -17.5))
            Line((10, -17.5), (70, -17.5))
            ThreePointArc((70, -17.5), (71.5, -19), (70, -20.5))
        make_face()
        with BuildLine():
            Line((70, -11.5), (30, -11.5))
            ThreePointArc((30, -11.5), (28.5, -10), (30, -8.5))
            Line((30, -8.5), (70, -8.5))
            ThreePointArc((70, -8.5), (71.5, -10), (70, -11.5))
        make_face()
    extrude(amount=ENL_V_MAT_EXTRU_8_DEPTH, mode=Mode.SUBTRACT)


solid = part.part
